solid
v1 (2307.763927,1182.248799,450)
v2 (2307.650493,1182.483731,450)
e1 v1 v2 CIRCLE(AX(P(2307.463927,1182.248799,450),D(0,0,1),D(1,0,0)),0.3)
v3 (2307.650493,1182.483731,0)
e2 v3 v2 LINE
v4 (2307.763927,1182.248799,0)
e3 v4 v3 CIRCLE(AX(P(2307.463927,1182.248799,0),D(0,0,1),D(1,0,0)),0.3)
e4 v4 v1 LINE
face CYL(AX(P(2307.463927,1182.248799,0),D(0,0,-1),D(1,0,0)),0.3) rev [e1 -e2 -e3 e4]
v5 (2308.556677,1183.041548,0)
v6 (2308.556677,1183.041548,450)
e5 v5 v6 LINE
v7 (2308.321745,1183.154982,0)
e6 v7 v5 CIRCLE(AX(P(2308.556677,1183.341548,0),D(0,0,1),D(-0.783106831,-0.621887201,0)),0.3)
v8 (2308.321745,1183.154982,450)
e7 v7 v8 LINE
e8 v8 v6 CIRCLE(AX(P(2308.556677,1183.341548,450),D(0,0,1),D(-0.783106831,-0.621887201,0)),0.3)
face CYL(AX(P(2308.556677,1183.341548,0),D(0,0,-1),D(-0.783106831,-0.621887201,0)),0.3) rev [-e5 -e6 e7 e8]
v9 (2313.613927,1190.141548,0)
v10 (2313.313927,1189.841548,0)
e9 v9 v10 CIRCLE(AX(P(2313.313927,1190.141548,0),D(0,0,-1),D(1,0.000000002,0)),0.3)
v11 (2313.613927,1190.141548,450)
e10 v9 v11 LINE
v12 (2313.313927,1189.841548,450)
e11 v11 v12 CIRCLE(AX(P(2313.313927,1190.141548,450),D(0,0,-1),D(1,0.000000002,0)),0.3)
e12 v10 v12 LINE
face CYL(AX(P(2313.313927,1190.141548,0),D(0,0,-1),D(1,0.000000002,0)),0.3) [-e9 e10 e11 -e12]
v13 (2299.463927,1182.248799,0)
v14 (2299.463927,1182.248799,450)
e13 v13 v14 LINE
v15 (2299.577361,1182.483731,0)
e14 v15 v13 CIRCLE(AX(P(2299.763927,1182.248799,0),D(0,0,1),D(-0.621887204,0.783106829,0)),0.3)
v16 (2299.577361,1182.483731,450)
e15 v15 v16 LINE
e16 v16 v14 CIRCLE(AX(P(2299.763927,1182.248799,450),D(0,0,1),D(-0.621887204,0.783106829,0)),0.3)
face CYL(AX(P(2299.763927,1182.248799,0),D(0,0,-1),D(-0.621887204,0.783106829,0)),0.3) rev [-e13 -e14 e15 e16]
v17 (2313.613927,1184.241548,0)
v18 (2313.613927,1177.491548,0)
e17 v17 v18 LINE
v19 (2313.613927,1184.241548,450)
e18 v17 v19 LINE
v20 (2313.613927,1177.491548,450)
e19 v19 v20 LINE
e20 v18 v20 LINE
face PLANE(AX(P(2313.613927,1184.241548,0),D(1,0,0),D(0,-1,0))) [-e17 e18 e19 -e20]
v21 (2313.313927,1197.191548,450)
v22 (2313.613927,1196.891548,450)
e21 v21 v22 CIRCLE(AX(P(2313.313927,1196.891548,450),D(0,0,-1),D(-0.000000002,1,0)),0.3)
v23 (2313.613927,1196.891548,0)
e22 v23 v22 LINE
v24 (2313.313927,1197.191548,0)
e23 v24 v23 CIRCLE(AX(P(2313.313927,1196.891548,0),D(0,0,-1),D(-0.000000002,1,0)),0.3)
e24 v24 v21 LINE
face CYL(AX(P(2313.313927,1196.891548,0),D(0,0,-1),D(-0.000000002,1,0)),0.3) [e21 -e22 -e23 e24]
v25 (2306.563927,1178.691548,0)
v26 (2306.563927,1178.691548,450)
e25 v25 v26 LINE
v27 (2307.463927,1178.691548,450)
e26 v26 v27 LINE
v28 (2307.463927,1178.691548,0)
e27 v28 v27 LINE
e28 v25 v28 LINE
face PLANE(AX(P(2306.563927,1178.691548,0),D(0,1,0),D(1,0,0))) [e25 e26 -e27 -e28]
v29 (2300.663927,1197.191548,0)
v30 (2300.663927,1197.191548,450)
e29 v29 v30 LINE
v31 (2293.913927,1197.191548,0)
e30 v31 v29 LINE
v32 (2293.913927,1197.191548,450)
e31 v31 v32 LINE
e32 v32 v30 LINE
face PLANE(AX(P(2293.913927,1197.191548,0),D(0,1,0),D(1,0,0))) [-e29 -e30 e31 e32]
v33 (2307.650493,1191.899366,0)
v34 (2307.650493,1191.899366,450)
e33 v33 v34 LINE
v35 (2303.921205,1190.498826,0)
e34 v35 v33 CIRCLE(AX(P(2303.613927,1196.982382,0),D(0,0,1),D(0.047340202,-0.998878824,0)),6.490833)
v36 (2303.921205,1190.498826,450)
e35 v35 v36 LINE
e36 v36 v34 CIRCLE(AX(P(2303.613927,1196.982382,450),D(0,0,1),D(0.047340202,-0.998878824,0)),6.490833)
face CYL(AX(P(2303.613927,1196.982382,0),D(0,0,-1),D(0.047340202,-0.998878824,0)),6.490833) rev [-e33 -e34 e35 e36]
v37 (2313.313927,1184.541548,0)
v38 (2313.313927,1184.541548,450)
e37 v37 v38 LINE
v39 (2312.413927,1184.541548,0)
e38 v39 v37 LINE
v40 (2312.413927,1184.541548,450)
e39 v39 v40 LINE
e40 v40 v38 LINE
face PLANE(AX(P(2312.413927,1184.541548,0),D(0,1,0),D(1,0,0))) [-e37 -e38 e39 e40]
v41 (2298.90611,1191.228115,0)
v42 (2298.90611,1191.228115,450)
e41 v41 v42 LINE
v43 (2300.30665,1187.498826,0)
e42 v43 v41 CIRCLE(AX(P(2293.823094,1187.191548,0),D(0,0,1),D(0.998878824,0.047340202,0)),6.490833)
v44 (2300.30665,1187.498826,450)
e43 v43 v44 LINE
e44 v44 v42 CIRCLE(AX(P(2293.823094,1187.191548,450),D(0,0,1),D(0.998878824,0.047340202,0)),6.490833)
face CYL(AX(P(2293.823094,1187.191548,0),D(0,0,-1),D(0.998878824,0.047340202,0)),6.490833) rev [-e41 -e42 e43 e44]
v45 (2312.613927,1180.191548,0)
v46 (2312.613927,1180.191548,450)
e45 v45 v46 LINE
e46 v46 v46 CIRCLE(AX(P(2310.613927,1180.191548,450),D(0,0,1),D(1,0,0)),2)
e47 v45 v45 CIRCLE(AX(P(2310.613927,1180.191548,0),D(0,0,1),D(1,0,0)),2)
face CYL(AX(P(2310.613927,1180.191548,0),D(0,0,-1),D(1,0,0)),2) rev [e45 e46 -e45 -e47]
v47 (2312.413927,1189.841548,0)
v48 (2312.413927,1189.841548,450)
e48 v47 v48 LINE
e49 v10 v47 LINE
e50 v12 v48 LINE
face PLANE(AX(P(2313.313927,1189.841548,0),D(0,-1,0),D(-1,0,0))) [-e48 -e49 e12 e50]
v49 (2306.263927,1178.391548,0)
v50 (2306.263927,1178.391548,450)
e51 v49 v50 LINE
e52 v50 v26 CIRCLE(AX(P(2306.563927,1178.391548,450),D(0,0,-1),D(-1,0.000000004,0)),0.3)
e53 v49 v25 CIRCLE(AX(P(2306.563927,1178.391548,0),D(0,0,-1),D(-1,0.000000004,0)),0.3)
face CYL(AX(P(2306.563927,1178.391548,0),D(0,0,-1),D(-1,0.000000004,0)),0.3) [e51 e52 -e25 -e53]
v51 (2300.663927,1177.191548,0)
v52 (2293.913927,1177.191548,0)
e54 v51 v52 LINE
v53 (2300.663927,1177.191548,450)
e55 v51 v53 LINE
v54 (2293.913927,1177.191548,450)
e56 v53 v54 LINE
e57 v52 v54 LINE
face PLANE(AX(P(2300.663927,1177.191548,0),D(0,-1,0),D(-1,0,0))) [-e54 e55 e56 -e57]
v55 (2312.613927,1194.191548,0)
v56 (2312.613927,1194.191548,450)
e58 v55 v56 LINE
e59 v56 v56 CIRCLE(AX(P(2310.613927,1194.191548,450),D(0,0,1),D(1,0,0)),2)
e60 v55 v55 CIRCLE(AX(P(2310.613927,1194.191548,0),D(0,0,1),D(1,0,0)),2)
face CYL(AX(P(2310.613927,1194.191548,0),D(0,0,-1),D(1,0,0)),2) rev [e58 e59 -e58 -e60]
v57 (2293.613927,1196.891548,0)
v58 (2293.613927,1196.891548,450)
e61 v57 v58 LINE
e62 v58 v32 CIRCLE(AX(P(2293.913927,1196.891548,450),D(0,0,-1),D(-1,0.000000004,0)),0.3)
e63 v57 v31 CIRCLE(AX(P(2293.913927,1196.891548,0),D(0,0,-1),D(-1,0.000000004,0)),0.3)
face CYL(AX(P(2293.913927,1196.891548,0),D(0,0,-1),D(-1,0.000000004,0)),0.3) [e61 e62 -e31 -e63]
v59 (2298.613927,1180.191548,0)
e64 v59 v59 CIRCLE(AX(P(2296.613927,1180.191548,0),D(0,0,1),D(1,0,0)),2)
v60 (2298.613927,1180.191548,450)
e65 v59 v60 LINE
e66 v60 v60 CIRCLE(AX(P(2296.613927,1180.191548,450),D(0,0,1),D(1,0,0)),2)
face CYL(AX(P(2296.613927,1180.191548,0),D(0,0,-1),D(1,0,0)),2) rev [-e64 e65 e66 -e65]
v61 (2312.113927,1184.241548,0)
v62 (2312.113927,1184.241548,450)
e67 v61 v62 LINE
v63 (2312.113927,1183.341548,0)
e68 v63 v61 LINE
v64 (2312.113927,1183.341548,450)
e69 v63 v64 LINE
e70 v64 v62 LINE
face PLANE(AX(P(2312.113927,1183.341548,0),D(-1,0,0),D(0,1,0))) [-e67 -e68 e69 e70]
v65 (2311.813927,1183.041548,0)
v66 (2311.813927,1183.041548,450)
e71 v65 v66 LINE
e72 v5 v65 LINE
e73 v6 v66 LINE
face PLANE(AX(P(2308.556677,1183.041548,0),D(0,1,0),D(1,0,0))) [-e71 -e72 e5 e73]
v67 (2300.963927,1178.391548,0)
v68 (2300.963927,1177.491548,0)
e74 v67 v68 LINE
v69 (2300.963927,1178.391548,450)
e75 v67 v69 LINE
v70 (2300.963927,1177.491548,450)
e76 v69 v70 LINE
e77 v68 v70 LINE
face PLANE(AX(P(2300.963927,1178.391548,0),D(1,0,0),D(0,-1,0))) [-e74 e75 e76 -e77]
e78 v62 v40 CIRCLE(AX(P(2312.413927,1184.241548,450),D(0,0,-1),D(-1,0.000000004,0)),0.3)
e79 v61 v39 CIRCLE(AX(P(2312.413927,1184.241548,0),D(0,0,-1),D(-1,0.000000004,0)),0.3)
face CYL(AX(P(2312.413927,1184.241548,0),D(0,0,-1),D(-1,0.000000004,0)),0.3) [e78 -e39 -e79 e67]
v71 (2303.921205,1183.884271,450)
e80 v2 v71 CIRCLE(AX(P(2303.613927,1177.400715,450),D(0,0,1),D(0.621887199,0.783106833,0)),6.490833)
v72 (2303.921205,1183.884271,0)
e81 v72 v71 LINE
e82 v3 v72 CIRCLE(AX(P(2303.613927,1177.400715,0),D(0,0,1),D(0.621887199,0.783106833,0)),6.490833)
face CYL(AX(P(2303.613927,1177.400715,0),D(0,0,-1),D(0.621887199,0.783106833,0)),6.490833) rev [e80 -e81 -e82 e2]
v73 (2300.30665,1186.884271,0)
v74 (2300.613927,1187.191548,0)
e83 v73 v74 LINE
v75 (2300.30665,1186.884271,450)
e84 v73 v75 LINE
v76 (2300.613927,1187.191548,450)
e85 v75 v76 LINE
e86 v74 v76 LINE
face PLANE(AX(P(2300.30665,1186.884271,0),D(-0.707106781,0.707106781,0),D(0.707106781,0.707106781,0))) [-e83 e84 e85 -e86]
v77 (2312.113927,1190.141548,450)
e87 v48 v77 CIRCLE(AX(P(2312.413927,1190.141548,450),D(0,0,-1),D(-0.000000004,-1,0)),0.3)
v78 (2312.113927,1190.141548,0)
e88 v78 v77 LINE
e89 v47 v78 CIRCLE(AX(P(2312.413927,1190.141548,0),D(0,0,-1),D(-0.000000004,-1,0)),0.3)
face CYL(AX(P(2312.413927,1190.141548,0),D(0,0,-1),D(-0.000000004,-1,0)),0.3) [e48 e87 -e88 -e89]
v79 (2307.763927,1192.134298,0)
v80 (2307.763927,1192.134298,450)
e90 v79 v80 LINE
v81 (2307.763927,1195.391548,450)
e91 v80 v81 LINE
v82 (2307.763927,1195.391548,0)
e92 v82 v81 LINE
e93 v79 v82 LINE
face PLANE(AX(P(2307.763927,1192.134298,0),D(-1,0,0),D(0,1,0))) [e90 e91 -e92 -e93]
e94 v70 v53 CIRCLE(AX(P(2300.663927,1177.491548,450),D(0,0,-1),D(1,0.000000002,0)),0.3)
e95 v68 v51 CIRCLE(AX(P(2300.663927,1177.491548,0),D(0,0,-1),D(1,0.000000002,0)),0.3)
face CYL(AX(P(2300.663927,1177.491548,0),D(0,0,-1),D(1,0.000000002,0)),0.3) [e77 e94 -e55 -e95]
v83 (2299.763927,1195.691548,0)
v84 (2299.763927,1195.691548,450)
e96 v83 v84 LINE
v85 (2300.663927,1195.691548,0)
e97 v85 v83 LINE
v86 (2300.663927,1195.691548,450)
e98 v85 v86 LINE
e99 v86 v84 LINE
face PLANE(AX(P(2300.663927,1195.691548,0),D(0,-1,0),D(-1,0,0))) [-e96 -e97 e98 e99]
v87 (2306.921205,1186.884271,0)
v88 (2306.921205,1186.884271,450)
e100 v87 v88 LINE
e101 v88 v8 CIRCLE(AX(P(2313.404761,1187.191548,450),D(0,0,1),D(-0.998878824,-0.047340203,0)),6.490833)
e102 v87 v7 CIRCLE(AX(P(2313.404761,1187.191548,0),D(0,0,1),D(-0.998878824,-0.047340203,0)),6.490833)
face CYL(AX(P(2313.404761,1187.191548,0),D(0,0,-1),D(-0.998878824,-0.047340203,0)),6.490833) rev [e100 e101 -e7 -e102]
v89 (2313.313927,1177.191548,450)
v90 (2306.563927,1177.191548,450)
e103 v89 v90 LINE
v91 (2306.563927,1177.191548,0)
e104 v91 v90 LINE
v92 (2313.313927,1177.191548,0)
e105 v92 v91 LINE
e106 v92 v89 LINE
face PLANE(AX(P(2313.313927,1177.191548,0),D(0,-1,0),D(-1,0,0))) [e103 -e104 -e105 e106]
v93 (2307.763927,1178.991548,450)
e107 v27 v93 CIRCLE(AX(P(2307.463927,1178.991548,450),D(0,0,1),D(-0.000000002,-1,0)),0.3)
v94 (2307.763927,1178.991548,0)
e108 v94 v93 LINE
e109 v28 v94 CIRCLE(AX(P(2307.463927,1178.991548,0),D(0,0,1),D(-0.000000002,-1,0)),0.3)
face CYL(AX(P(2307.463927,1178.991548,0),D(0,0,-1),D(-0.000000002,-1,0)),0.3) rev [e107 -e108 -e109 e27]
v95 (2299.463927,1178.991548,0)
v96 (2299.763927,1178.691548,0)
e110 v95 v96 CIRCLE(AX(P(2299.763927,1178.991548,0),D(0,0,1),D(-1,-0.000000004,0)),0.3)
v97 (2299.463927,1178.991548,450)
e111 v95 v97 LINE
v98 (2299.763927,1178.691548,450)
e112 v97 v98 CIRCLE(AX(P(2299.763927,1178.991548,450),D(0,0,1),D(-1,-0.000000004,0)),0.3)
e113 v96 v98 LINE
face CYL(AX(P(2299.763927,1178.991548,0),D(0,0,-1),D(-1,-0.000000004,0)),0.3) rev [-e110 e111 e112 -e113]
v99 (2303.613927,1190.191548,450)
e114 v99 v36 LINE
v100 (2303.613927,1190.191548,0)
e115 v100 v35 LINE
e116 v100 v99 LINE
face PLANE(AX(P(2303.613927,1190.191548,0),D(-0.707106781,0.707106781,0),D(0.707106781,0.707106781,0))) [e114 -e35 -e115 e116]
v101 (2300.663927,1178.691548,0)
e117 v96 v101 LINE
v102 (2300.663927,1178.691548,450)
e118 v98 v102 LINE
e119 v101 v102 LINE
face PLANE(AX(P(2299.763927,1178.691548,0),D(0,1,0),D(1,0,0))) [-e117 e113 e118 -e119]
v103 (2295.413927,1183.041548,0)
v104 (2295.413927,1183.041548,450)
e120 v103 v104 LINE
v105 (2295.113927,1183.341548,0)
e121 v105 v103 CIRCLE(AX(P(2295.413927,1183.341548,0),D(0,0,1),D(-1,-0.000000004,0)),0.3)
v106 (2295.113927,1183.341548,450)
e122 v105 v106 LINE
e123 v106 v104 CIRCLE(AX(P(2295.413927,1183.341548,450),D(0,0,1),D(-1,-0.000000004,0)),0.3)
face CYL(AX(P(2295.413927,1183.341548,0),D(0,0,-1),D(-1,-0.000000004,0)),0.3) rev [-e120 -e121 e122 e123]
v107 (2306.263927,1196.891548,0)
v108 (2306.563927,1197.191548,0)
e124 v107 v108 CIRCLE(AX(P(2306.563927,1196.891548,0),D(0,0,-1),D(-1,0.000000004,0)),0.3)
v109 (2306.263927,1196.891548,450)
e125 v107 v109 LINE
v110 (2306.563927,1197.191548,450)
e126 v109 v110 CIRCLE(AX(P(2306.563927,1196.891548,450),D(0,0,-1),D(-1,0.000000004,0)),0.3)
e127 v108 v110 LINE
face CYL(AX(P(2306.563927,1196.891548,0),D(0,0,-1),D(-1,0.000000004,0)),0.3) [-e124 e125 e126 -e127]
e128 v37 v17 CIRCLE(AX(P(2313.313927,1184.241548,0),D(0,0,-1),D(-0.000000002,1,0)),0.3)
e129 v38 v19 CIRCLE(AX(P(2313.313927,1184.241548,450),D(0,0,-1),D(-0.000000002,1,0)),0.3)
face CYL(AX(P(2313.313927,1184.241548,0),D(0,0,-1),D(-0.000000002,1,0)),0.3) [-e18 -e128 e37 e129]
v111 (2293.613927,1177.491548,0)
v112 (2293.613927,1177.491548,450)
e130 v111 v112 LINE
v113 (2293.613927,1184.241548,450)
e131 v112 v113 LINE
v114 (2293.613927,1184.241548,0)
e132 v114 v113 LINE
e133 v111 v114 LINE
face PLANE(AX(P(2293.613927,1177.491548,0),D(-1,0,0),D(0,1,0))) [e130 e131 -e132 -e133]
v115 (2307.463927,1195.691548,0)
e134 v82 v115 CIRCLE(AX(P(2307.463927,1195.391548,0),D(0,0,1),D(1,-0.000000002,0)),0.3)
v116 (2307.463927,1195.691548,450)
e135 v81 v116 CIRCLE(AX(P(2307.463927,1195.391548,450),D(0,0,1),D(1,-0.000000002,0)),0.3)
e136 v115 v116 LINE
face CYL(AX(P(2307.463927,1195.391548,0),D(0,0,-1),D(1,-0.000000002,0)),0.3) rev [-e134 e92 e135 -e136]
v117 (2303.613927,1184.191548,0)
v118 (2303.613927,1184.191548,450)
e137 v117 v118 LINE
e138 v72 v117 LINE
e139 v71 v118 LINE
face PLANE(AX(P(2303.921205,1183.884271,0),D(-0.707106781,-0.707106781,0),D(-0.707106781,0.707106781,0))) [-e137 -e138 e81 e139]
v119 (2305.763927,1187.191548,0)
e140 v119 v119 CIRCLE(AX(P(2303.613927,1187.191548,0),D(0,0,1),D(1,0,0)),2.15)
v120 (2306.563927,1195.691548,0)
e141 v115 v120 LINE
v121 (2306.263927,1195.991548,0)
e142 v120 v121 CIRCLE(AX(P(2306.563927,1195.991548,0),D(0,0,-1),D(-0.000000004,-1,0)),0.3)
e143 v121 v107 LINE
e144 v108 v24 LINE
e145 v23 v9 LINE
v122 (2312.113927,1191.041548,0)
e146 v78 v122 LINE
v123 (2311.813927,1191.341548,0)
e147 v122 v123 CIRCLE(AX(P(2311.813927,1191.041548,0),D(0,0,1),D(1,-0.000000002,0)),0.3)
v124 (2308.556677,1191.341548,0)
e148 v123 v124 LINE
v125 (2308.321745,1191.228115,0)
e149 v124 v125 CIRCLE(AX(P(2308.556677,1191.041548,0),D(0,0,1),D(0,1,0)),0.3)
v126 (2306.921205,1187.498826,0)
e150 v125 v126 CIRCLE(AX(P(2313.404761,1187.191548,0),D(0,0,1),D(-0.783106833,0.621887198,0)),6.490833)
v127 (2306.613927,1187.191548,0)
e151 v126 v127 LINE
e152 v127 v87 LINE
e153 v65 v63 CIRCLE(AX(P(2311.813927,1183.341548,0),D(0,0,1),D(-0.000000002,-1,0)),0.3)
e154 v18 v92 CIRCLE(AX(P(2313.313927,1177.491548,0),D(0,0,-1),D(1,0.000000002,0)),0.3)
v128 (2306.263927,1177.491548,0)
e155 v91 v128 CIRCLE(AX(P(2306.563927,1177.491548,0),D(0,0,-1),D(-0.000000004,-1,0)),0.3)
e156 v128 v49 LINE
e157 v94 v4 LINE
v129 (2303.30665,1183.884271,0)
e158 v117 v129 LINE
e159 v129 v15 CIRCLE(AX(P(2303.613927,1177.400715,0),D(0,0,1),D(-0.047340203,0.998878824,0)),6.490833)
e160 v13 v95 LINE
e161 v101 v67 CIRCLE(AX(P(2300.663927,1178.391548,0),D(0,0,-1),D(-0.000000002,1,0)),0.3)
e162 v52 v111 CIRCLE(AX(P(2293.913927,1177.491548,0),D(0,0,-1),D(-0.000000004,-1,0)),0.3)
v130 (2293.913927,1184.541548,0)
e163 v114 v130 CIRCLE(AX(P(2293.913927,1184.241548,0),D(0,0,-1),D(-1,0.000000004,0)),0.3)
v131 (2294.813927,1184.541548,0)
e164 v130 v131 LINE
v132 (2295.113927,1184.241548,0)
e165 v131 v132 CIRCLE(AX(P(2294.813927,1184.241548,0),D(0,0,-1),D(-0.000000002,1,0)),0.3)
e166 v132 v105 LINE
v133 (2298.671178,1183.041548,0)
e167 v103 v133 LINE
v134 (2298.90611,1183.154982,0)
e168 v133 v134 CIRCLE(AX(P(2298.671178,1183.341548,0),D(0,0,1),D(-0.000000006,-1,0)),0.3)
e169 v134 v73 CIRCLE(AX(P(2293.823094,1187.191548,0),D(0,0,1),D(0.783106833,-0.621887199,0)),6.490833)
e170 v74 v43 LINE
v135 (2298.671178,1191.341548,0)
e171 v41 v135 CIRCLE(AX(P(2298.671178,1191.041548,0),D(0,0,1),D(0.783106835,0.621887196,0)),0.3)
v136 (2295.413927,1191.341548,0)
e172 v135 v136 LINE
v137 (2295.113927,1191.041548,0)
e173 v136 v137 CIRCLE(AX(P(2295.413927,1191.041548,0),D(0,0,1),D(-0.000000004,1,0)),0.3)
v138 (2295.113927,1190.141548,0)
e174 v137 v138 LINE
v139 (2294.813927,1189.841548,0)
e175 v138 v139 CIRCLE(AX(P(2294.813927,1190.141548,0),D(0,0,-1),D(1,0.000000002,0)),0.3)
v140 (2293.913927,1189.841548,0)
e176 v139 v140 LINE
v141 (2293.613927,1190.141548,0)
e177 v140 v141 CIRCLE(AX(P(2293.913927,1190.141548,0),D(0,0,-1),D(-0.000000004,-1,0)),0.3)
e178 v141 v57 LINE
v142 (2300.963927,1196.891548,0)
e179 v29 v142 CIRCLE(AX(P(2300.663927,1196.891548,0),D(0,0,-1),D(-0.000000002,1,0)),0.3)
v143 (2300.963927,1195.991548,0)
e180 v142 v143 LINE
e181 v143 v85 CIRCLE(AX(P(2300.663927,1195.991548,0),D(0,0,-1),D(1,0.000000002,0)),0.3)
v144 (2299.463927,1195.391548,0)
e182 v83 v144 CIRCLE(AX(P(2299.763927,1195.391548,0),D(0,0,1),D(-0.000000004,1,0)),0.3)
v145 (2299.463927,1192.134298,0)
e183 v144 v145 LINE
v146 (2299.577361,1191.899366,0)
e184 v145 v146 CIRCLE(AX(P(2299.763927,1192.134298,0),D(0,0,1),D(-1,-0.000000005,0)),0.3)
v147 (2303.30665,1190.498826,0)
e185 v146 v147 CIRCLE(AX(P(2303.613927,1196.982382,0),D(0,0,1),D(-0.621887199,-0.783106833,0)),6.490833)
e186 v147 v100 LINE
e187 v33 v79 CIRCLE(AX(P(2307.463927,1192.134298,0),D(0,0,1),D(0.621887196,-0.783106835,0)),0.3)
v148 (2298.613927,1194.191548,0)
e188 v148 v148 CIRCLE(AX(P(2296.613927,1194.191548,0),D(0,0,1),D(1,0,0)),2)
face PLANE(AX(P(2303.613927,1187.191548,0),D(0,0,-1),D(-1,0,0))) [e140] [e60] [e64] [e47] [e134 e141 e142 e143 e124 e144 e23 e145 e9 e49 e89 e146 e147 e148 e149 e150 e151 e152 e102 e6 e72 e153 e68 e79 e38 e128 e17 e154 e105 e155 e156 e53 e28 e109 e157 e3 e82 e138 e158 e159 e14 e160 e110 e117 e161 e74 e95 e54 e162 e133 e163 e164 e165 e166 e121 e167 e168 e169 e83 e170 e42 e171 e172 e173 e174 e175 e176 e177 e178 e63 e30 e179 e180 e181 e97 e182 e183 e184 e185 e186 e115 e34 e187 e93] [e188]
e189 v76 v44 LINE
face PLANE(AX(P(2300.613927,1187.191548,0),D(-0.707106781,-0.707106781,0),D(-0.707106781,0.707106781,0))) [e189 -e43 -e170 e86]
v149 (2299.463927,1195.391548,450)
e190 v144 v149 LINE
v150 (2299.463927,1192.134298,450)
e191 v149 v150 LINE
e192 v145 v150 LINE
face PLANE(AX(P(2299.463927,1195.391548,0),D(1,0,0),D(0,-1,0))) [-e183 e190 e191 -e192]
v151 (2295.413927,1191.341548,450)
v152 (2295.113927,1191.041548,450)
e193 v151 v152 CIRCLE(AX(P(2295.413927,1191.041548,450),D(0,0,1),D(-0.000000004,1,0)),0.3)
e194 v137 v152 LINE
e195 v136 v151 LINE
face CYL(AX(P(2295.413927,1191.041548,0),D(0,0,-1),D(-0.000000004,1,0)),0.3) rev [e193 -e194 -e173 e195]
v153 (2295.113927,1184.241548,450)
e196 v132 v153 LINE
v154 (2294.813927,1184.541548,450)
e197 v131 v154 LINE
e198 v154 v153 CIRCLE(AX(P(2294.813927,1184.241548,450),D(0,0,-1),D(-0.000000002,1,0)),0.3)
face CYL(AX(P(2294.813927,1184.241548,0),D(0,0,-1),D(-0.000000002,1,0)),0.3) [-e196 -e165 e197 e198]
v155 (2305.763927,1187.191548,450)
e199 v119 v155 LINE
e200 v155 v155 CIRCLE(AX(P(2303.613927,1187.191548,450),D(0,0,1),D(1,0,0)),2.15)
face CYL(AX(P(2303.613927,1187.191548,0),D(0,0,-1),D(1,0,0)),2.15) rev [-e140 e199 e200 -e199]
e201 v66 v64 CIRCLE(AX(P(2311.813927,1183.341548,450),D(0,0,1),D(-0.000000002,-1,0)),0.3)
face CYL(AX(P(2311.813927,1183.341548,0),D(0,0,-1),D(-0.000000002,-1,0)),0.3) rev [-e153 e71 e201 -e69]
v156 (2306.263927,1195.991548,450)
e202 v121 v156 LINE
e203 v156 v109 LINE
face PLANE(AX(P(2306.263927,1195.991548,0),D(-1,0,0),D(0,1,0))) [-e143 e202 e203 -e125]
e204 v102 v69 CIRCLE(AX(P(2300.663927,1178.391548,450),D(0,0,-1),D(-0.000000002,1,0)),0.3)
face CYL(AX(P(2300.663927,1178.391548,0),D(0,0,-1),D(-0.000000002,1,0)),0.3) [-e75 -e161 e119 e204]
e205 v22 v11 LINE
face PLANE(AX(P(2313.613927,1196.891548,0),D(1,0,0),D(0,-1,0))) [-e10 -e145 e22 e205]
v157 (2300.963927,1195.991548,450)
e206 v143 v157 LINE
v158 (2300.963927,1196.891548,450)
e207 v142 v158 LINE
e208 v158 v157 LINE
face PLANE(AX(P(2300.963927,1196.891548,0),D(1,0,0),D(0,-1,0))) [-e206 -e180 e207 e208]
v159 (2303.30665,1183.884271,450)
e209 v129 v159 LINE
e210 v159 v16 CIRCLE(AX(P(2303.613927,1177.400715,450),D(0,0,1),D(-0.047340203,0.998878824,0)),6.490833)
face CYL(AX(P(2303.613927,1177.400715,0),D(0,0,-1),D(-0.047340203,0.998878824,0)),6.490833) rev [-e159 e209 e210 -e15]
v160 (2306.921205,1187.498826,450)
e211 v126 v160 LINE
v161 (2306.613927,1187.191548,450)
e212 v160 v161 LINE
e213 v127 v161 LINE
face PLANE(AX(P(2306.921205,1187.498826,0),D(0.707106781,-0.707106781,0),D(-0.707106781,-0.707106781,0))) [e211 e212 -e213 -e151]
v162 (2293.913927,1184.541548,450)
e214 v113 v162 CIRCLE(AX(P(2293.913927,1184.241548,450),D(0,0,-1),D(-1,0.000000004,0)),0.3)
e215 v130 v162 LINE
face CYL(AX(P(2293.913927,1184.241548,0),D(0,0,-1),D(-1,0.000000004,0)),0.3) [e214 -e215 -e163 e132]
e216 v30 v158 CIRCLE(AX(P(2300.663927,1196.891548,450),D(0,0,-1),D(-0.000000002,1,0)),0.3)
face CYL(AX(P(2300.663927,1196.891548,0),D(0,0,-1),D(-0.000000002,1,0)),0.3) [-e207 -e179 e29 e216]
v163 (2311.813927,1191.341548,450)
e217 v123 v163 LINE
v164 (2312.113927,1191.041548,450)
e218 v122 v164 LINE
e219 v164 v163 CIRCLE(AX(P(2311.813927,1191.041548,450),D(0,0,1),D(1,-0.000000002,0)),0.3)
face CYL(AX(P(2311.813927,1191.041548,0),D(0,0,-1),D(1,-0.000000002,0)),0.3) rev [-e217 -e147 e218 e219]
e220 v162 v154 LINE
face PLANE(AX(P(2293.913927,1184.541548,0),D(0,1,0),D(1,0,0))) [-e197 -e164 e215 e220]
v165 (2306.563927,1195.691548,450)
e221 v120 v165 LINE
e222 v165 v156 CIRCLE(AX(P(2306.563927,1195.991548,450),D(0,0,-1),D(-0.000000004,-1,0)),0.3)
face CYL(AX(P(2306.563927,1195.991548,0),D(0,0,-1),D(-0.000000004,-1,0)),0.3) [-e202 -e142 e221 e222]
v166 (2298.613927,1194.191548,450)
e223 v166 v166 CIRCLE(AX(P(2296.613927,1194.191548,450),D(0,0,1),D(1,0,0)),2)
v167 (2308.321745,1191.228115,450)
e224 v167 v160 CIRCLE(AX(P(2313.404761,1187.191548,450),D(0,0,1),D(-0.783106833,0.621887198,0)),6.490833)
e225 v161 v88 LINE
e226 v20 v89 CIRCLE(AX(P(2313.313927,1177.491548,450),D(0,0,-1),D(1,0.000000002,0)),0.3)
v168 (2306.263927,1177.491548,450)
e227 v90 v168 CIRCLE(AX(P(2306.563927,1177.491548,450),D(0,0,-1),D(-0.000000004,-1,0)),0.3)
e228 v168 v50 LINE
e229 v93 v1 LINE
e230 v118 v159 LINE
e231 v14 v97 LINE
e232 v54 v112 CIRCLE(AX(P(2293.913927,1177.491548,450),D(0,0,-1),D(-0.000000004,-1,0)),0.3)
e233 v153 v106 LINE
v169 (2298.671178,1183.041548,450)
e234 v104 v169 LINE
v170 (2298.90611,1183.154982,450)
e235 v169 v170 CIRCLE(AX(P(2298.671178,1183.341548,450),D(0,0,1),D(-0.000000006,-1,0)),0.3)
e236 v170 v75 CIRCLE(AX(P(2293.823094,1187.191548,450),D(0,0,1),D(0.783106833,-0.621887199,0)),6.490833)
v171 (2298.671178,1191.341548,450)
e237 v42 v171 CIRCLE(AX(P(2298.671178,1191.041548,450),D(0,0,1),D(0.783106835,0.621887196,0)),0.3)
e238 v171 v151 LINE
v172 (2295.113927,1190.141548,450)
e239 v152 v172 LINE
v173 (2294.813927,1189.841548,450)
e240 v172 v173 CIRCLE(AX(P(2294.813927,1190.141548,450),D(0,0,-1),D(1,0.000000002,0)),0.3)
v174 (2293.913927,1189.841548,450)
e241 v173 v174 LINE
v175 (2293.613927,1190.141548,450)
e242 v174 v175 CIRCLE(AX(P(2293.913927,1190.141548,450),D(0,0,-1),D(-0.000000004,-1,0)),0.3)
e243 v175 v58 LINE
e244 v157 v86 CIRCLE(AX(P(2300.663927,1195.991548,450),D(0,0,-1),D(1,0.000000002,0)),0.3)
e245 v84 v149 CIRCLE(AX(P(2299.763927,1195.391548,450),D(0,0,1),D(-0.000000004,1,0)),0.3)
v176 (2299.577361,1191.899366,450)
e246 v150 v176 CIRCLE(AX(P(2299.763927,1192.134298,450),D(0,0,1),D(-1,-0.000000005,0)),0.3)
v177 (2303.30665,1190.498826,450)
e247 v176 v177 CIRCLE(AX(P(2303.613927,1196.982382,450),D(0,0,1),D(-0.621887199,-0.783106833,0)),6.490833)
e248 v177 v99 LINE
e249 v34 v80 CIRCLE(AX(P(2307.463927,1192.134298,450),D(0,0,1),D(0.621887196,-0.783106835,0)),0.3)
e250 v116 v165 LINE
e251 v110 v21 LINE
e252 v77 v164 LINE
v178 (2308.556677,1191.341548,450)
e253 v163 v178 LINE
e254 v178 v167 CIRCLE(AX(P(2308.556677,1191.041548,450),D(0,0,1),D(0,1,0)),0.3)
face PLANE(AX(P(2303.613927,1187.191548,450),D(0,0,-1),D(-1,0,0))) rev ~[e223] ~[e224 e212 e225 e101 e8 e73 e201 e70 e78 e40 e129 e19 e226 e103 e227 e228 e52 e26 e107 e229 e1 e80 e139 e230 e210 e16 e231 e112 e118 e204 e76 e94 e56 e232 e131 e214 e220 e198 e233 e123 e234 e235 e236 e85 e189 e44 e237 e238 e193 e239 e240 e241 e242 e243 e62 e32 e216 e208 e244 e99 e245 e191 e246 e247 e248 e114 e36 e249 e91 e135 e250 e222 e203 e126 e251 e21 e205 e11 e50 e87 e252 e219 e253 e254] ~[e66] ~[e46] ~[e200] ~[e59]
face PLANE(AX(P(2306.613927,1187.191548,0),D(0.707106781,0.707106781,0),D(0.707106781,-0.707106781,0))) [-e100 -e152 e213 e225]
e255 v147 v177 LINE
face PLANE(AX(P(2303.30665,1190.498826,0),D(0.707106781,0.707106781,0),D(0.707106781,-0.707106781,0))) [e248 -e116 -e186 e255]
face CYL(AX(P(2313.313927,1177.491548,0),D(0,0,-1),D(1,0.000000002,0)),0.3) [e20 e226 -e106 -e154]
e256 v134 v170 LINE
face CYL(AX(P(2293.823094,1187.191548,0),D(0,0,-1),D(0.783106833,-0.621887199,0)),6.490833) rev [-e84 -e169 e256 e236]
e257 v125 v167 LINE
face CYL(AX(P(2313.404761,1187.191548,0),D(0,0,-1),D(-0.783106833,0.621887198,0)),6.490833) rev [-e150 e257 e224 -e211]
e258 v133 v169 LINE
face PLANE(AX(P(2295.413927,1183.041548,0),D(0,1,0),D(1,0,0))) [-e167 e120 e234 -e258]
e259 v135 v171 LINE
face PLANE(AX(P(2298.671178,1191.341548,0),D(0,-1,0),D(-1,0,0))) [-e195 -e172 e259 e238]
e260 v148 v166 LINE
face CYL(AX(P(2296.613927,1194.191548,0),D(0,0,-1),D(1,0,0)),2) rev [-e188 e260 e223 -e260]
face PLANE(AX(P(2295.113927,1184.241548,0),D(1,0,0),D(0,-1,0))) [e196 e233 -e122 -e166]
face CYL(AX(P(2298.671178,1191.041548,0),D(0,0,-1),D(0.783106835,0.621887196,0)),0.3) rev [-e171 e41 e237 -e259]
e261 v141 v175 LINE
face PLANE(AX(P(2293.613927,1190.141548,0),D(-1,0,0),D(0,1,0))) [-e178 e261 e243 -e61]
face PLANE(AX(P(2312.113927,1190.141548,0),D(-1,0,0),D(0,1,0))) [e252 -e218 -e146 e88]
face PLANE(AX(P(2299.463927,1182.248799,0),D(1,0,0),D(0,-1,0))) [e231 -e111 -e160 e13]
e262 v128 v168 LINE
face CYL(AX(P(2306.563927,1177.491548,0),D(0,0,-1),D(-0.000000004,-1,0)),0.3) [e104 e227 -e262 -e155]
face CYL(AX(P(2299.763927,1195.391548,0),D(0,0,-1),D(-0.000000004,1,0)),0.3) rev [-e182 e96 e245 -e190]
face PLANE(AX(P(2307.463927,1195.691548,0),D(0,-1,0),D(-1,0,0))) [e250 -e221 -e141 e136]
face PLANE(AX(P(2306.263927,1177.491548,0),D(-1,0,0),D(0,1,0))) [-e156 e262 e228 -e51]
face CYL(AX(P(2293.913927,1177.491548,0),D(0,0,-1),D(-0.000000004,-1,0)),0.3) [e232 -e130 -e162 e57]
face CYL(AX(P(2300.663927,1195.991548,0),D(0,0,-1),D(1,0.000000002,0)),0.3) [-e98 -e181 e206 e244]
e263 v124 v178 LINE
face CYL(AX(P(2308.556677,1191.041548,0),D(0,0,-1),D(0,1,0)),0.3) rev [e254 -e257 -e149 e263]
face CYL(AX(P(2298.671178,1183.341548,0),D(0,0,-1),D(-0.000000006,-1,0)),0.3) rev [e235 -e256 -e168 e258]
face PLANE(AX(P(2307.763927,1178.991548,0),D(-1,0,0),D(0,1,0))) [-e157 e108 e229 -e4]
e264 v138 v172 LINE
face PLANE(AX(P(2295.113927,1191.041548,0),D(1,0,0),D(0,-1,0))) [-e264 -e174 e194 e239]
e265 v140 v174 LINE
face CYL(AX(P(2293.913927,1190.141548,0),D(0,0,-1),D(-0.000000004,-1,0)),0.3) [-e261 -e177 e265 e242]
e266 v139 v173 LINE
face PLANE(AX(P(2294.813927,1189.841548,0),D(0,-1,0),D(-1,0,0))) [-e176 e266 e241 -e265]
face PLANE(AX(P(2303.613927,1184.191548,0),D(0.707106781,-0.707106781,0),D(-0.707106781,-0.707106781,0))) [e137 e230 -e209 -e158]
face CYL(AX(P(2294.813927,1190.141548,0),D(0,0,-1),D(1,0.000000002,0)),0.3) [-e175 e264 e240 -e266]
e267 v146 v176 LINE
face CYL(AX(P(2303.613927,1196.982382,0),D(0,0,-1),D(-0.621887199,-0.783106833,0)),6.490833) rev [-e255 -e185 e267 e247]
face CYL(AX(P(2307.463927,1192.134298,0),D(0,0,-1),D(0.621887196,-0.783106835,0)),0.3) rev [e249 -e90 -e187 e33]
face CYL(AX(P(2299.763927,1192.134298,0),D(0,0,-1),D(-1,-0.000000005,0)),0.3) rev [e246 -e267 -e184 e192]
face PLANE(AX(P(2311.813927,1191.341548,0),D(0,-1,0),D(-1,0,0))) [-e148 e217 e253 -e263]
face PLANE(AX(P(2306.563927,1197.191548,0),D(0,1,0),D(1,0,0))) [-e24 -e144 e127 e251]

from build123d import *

# Parameters (mm, degrees)
MODEL_R         = 2.15
MODEL_R_2       = 2
EXTRUDE_1_DEPTH = 450


with BuildPart() as part:
    # Model → 보스-돌출1 (new body)
    with BuildSketch(Plane.XY):
        with BuildLine():
            Line((2307.763927197, 1192.134297913), (2307.763927197, 1195.391548465))
            ThreePointArc((2307.763927197, 1195.391548465), (2307.676059232, 1195.603680499), (2307.463927197, 1195.691548465))
            Line((2307.463927197, 1195.691548465), (2306.563927197, 1195.691548465))
            ThreePointArc((2306.563927197, 1195.691548465), (2306.351795163, 1195.779416431), (2306.263927197, 1195.991548465))
            Line((2306.263927197, 1195.991548465), (2306.263927197, 1196.891548465))
            ThreePointArc((2306.263927197, 1196.891548465), (2306.351795163, 1197.103680499), (2306.563927197, 1197.191548465))
            Line((2306.563927197, 1197.191548465), (2313.313927197, 1197.191548465))
            ThreePointArc((2313.313927197, 1197.191548465), (2313.526059232, 1197.103680499), (2313.613927197, 1196.891548465))
            Line((2313.613927197, 1196.891548465), (2313.613927197, 1190.141548465))
            ThreePointArc((2313.613927197, 1190.141548465), (2313.526059232, 1189.929416431), (2313.313927197, 1189.841548465))
            Line((2313.313927197, 1189.841548465), (2312.413927197, 1189.841548465))
            ThreePointArc((2312.413927197, 1189.841548465), (2312.201795163, 1189.929416431), (2312.113927197, 1190.141548465))
            Line((2312.113927197, 1190.141548465), (2312.113927197, 1191.041548465))
            ThreePointArc((2312.113927197, 1191.041548465), (2312.026059232, 1191.253680499), (2311.813927197, 1191.341548465))
            Line((2311.813927197, 1191.341548465), (2308.556676645, 1191.341548465))
            ThreePointArc((2308.556676645, 1191.341548465), (2308.426234796, 1191.311705686), (2308.321744595, 1191.228114625))
            ThreePointArc((2308.321744595, 1191.228114625), (2307.328306374, 1189.47356999), (2306.921204563, 1187.498825831))
            Line((2306.921204563, 1187.498825831), (2306.613927197, 1187.191548465))
            Line((2306.613927197, 1187.191548465), (2306.921204563, 1186.884271099))
            ThreePointArc((2306.921204563, 1186.884271099), (2307.328306374, 1184.90952694), (2308.321744595, 1183.154982305))
            ThreePointArc((2308.321744595, 1183.154982305), (2308.426234796, 1183.071391244), (2308.556676645, 1183.041548465))
            Line((2308.556676645, 1183.041548465), (2311.813927197, 1183.041548465))
            ThreePointArc((2311.813927197, 1183.041548465), (2312.026059232, 1183.129416431), (2312.113927197, 1183.341548465))
            Line((2312.113927197, 1183.341548465), (2312.113927197, 1184.241548465))
            ThreePointArc((2312.113927197, 1184.241548465), (2312.201795163, 1184.453680499), (2312.413927197, 1184.541548465))
            Line((2312.413927197, 1184.541548465), (2313.313927197, 1184.541548465))
            ThreePointArc((2313.313927197, 1184.541548465), (2313.526059232, 1184.453680499), (2313.613927197, 1184.241548465))
            Line((2313.613927197, 1184.241548465), (2313.613927197, 1177.491548465))
            ThreePointArc((2313.613927197, 1177.491548465), (2313.526059232, 1177.279416431), (2313.313927197, 1177.191548465))
            Line((2313.313927197, 1177.191548465), (2306.563927197, 1177.191548465))
            ThreePointArc((2306.563927197, 1177.191548465), (2306.351795163, 1177.279416431), (2306.263927197, 1177.491548465))
            Line((2306.263927197, 1177.491548465), (2306.263927197, 1178.391548465))
            ThreePointArc((2306.263927197, 1178.391548465), (2306.351795163, 1178.603680499), (2306.563927197, 1178.691548465))
            Line((2306.563927197, 1178.691548465), (2307.463927197, 1178.691548465))
            ThreePointArc((2307.463927197, 1178.691548465), (2307.676059232, 1178.779416431), (2307.763927197, 1178.991548465))
            Line((2307.763927197, 1178.991548465), (2307.763927197, 1182.248799017))
            ThreePointArc((2307.763927197, 1182.248799017), (2307.734084418, 1182.379240866), (2307.650493357, 1182.483731067))
            ThreePointArc((2307.650493357, 1182.483731067), (2305.895948722, 1183.477169289), (2303.921204563, 1183.884271099))
            Line((2303.921204563, 1183.884271099), (2303.613927197, 1184.191548465))
            Line((2303.613927197, 1184.191548465), (2303.306649831, 1183.884271099))
            ThreePointArc((2303.306649831, 1183.884271099), (2301.331905673, 1183.477169289), (2299.577361038, 1182.483731067))
            ThreePointArc((2299.577361038, 1182.483731067), (2299.493769977, 1182.379240866), (2299.463927197, 1182.248799017))
            Line((2299.463927197, 1182.248799017), (2299.463927197, 1178.991548465))
            ThreePointArc((2299.463927197, 1178.991548465), (2299.551795163, 1178.779416431), (2299.763927197, 1178.691548465))
            Line((2299.763927197, 1178.691548465), (2300.663927197, 1178.691548465))
            ThreePointArc((2300.663927197, 1178.691548465), (2300.876059232, 1178.603680499), (2300.963927197, 1178.391548465))
            Line((2300.963927197, 1178.391548465), (2300.963927197, 1177.491548465))
            ThreePointArc((2300.963927197, 1177.491548465), (2300.876059232, 1177.279416431), (2300.663927197, 1177.191548465))
            Line((2300.663927197, 1177.191548465), (2293.913927197, 1177.191548465))
            ThreePointArc((2293.913927197, 1177.191548465), (2293.701795163, 1177.279416431), (2293.613927197, 1177.491548465))
            Line((2293.613927197, 1177.491548465), (2293.613927197, 1184.241548465))
            ThreePointArc((2293.613927197, 1184.241548465), (2293.701795163, 1184.453680499), (2293.913927197, 1184.541548465))
            Line((2293.913927197, 1184.541548465), (2294.813927197, 1184.541548465))
            ThreePointArc((2294.813927197, 1184.541548465), (2295.026059232, 1184.453680499), (2295.113927197, 1184.241548465))
            Line((2295.113927197, 1184.241548465), (2295.113927197, 1183.341548465))
            ThreePointArc((2295.113927197, 1183.341548465), (2295.201795163, 1183.129416431), (2295.413927197, 1183.041548465))
            Line((2295.413927197, 1183.041548465), (2298.671177749, 1183.041548465))
            ThreePointArc((2298.671177749, 1183.041548465), (2298.801619599, 1183.071391244), (2298.906109799, 1183.154982305))
            ThreePointArc((2298.906109799, 1183.154982305), (2299.899548021, 1184.90952694), (2300.306649831, 1186.884271099))
            Line((2300.306649831, 1186.884271099), (2300.613927197, 1187.191548465))
            Line((2300.613927197, 1187.191548465), (2300.306649831, 1187.498825831))
            ThreePointArc((2300.306649831, 1187.498825831), (2299.899548021, 1189.47356999), (2298.906109799, 1191.228114625))
            ThreePointArc((2298.906109799, 1191.228114625), (2298.801619599, 1191.311705686), (2298.671177749, 1191.341548465))
            Line((2298.671177749, 1191.341548465), (2295.413927197, 1191.341548465))
            ThreePointArc((2295.413927197, 1191.341548465), (2295.201795163, 1191.253680499), (2295.113927197, 1191.041548465))
            Line((2295.113927197, 1191.041548465), (2295.113927197, 1190.141548465))
            ThreePointArc((2295.113927197, 1190.141548465), (2295.026059232, 1189.929416431), (2294.813927197, 1189.841548465))
            Line((2294.813927197, 1189.841548465), (2293.913927197, 1189.841548465))
            ThreePointArc((2293.913927197, 1189.841548465), (2293.701795163, 1189.929416431), (2293.613927197, 1190.141548465))
            Line((2293.613927197, 1190.141548465), (2293.613927197, 1196.891548465))
            ThreePointArc((2293.613927197, 1196.891548465), (2293.701795163, 1197.103680499), (2293.913927197, 1197.191548465))
            Line((2293.913927197, 1197.191548465), (2300.663927197, 1197.191548465))
            ThreePointArc((2300.663927197, 1197.191548465), (2300.876059232, 1197.103680499), (2300.963927197, 1196.891548465))
            Line((2300.963927197, 1196.891548465), (2300.963927197, 1195.991548465))
            ThreePointArc((2300.963927197, 1195.991548465), (2300.876059232, 1195.779416431), (2300.663927197, 1195.691548465))
            Line((2300.663927197, 1195.691548465), (2299.763927197, 1195.691548465))
            ThreePointArc((2299.763927197, 1195.691548465), (2299.551795163, 1195.603680499), (2299.463927197, 1195.391548465))
            Line((2299.463927197, 1195.391548465), (2299.463927197, 1192.134297913))
            ThreePointArc((2299.463927197, 1192.134297913), (2299.493769977, 1192.003856063), (2299.577361038, 1191.899365863))
            ThreePointArc((2299.577361038, 1191.899365863), (2301.331905673, 1190.905927641), (2303.306649831, 1190.498825831))
            Line((2303.306649831, 1190.498825831), (2303.613927197, 1190.191548465))
            Line((2303.613927197, 1190.191548465), (2303.921204563, 1190.498825831))
            ThreePointArc((2303.921204563, 1190.498825831), (2305.895948722, 1190.905927641), (2307.650493357, 1191.899365863))
            ThreePointArc((2307.650493357, 1191.899365863), (2307.734084418, 1192.003856063), (2307.763927197, 1192.134297913))
        make_face()
        with Locations((2303.613927197, 1187.191548465)):
            Circle(MODEL_R, mode=Mode.SUBTRACT)
        with Locations((2296.613927197, 1194.191548465)):
            Circle(MODEL_R_2, mode=Mode.SUBTRACT)
        with Locations((2296.613927197, 1180.191548465)):
            Circle(MODEL_R_2, mode=Mode.SUBTRACT)
        with Locations((2310.613927197, 1194.191548465)):
            Circle(MODEL_R_2, mode=Mode.SUBTRACT)
        with Locations((2310.613927197, 1180.191548465)):
            Circle(MODEL_R_2, mode=Mode.SUBTRACT)
    extrude(amount=EXTRUDE_1_DEPTH)


solid = part.part
